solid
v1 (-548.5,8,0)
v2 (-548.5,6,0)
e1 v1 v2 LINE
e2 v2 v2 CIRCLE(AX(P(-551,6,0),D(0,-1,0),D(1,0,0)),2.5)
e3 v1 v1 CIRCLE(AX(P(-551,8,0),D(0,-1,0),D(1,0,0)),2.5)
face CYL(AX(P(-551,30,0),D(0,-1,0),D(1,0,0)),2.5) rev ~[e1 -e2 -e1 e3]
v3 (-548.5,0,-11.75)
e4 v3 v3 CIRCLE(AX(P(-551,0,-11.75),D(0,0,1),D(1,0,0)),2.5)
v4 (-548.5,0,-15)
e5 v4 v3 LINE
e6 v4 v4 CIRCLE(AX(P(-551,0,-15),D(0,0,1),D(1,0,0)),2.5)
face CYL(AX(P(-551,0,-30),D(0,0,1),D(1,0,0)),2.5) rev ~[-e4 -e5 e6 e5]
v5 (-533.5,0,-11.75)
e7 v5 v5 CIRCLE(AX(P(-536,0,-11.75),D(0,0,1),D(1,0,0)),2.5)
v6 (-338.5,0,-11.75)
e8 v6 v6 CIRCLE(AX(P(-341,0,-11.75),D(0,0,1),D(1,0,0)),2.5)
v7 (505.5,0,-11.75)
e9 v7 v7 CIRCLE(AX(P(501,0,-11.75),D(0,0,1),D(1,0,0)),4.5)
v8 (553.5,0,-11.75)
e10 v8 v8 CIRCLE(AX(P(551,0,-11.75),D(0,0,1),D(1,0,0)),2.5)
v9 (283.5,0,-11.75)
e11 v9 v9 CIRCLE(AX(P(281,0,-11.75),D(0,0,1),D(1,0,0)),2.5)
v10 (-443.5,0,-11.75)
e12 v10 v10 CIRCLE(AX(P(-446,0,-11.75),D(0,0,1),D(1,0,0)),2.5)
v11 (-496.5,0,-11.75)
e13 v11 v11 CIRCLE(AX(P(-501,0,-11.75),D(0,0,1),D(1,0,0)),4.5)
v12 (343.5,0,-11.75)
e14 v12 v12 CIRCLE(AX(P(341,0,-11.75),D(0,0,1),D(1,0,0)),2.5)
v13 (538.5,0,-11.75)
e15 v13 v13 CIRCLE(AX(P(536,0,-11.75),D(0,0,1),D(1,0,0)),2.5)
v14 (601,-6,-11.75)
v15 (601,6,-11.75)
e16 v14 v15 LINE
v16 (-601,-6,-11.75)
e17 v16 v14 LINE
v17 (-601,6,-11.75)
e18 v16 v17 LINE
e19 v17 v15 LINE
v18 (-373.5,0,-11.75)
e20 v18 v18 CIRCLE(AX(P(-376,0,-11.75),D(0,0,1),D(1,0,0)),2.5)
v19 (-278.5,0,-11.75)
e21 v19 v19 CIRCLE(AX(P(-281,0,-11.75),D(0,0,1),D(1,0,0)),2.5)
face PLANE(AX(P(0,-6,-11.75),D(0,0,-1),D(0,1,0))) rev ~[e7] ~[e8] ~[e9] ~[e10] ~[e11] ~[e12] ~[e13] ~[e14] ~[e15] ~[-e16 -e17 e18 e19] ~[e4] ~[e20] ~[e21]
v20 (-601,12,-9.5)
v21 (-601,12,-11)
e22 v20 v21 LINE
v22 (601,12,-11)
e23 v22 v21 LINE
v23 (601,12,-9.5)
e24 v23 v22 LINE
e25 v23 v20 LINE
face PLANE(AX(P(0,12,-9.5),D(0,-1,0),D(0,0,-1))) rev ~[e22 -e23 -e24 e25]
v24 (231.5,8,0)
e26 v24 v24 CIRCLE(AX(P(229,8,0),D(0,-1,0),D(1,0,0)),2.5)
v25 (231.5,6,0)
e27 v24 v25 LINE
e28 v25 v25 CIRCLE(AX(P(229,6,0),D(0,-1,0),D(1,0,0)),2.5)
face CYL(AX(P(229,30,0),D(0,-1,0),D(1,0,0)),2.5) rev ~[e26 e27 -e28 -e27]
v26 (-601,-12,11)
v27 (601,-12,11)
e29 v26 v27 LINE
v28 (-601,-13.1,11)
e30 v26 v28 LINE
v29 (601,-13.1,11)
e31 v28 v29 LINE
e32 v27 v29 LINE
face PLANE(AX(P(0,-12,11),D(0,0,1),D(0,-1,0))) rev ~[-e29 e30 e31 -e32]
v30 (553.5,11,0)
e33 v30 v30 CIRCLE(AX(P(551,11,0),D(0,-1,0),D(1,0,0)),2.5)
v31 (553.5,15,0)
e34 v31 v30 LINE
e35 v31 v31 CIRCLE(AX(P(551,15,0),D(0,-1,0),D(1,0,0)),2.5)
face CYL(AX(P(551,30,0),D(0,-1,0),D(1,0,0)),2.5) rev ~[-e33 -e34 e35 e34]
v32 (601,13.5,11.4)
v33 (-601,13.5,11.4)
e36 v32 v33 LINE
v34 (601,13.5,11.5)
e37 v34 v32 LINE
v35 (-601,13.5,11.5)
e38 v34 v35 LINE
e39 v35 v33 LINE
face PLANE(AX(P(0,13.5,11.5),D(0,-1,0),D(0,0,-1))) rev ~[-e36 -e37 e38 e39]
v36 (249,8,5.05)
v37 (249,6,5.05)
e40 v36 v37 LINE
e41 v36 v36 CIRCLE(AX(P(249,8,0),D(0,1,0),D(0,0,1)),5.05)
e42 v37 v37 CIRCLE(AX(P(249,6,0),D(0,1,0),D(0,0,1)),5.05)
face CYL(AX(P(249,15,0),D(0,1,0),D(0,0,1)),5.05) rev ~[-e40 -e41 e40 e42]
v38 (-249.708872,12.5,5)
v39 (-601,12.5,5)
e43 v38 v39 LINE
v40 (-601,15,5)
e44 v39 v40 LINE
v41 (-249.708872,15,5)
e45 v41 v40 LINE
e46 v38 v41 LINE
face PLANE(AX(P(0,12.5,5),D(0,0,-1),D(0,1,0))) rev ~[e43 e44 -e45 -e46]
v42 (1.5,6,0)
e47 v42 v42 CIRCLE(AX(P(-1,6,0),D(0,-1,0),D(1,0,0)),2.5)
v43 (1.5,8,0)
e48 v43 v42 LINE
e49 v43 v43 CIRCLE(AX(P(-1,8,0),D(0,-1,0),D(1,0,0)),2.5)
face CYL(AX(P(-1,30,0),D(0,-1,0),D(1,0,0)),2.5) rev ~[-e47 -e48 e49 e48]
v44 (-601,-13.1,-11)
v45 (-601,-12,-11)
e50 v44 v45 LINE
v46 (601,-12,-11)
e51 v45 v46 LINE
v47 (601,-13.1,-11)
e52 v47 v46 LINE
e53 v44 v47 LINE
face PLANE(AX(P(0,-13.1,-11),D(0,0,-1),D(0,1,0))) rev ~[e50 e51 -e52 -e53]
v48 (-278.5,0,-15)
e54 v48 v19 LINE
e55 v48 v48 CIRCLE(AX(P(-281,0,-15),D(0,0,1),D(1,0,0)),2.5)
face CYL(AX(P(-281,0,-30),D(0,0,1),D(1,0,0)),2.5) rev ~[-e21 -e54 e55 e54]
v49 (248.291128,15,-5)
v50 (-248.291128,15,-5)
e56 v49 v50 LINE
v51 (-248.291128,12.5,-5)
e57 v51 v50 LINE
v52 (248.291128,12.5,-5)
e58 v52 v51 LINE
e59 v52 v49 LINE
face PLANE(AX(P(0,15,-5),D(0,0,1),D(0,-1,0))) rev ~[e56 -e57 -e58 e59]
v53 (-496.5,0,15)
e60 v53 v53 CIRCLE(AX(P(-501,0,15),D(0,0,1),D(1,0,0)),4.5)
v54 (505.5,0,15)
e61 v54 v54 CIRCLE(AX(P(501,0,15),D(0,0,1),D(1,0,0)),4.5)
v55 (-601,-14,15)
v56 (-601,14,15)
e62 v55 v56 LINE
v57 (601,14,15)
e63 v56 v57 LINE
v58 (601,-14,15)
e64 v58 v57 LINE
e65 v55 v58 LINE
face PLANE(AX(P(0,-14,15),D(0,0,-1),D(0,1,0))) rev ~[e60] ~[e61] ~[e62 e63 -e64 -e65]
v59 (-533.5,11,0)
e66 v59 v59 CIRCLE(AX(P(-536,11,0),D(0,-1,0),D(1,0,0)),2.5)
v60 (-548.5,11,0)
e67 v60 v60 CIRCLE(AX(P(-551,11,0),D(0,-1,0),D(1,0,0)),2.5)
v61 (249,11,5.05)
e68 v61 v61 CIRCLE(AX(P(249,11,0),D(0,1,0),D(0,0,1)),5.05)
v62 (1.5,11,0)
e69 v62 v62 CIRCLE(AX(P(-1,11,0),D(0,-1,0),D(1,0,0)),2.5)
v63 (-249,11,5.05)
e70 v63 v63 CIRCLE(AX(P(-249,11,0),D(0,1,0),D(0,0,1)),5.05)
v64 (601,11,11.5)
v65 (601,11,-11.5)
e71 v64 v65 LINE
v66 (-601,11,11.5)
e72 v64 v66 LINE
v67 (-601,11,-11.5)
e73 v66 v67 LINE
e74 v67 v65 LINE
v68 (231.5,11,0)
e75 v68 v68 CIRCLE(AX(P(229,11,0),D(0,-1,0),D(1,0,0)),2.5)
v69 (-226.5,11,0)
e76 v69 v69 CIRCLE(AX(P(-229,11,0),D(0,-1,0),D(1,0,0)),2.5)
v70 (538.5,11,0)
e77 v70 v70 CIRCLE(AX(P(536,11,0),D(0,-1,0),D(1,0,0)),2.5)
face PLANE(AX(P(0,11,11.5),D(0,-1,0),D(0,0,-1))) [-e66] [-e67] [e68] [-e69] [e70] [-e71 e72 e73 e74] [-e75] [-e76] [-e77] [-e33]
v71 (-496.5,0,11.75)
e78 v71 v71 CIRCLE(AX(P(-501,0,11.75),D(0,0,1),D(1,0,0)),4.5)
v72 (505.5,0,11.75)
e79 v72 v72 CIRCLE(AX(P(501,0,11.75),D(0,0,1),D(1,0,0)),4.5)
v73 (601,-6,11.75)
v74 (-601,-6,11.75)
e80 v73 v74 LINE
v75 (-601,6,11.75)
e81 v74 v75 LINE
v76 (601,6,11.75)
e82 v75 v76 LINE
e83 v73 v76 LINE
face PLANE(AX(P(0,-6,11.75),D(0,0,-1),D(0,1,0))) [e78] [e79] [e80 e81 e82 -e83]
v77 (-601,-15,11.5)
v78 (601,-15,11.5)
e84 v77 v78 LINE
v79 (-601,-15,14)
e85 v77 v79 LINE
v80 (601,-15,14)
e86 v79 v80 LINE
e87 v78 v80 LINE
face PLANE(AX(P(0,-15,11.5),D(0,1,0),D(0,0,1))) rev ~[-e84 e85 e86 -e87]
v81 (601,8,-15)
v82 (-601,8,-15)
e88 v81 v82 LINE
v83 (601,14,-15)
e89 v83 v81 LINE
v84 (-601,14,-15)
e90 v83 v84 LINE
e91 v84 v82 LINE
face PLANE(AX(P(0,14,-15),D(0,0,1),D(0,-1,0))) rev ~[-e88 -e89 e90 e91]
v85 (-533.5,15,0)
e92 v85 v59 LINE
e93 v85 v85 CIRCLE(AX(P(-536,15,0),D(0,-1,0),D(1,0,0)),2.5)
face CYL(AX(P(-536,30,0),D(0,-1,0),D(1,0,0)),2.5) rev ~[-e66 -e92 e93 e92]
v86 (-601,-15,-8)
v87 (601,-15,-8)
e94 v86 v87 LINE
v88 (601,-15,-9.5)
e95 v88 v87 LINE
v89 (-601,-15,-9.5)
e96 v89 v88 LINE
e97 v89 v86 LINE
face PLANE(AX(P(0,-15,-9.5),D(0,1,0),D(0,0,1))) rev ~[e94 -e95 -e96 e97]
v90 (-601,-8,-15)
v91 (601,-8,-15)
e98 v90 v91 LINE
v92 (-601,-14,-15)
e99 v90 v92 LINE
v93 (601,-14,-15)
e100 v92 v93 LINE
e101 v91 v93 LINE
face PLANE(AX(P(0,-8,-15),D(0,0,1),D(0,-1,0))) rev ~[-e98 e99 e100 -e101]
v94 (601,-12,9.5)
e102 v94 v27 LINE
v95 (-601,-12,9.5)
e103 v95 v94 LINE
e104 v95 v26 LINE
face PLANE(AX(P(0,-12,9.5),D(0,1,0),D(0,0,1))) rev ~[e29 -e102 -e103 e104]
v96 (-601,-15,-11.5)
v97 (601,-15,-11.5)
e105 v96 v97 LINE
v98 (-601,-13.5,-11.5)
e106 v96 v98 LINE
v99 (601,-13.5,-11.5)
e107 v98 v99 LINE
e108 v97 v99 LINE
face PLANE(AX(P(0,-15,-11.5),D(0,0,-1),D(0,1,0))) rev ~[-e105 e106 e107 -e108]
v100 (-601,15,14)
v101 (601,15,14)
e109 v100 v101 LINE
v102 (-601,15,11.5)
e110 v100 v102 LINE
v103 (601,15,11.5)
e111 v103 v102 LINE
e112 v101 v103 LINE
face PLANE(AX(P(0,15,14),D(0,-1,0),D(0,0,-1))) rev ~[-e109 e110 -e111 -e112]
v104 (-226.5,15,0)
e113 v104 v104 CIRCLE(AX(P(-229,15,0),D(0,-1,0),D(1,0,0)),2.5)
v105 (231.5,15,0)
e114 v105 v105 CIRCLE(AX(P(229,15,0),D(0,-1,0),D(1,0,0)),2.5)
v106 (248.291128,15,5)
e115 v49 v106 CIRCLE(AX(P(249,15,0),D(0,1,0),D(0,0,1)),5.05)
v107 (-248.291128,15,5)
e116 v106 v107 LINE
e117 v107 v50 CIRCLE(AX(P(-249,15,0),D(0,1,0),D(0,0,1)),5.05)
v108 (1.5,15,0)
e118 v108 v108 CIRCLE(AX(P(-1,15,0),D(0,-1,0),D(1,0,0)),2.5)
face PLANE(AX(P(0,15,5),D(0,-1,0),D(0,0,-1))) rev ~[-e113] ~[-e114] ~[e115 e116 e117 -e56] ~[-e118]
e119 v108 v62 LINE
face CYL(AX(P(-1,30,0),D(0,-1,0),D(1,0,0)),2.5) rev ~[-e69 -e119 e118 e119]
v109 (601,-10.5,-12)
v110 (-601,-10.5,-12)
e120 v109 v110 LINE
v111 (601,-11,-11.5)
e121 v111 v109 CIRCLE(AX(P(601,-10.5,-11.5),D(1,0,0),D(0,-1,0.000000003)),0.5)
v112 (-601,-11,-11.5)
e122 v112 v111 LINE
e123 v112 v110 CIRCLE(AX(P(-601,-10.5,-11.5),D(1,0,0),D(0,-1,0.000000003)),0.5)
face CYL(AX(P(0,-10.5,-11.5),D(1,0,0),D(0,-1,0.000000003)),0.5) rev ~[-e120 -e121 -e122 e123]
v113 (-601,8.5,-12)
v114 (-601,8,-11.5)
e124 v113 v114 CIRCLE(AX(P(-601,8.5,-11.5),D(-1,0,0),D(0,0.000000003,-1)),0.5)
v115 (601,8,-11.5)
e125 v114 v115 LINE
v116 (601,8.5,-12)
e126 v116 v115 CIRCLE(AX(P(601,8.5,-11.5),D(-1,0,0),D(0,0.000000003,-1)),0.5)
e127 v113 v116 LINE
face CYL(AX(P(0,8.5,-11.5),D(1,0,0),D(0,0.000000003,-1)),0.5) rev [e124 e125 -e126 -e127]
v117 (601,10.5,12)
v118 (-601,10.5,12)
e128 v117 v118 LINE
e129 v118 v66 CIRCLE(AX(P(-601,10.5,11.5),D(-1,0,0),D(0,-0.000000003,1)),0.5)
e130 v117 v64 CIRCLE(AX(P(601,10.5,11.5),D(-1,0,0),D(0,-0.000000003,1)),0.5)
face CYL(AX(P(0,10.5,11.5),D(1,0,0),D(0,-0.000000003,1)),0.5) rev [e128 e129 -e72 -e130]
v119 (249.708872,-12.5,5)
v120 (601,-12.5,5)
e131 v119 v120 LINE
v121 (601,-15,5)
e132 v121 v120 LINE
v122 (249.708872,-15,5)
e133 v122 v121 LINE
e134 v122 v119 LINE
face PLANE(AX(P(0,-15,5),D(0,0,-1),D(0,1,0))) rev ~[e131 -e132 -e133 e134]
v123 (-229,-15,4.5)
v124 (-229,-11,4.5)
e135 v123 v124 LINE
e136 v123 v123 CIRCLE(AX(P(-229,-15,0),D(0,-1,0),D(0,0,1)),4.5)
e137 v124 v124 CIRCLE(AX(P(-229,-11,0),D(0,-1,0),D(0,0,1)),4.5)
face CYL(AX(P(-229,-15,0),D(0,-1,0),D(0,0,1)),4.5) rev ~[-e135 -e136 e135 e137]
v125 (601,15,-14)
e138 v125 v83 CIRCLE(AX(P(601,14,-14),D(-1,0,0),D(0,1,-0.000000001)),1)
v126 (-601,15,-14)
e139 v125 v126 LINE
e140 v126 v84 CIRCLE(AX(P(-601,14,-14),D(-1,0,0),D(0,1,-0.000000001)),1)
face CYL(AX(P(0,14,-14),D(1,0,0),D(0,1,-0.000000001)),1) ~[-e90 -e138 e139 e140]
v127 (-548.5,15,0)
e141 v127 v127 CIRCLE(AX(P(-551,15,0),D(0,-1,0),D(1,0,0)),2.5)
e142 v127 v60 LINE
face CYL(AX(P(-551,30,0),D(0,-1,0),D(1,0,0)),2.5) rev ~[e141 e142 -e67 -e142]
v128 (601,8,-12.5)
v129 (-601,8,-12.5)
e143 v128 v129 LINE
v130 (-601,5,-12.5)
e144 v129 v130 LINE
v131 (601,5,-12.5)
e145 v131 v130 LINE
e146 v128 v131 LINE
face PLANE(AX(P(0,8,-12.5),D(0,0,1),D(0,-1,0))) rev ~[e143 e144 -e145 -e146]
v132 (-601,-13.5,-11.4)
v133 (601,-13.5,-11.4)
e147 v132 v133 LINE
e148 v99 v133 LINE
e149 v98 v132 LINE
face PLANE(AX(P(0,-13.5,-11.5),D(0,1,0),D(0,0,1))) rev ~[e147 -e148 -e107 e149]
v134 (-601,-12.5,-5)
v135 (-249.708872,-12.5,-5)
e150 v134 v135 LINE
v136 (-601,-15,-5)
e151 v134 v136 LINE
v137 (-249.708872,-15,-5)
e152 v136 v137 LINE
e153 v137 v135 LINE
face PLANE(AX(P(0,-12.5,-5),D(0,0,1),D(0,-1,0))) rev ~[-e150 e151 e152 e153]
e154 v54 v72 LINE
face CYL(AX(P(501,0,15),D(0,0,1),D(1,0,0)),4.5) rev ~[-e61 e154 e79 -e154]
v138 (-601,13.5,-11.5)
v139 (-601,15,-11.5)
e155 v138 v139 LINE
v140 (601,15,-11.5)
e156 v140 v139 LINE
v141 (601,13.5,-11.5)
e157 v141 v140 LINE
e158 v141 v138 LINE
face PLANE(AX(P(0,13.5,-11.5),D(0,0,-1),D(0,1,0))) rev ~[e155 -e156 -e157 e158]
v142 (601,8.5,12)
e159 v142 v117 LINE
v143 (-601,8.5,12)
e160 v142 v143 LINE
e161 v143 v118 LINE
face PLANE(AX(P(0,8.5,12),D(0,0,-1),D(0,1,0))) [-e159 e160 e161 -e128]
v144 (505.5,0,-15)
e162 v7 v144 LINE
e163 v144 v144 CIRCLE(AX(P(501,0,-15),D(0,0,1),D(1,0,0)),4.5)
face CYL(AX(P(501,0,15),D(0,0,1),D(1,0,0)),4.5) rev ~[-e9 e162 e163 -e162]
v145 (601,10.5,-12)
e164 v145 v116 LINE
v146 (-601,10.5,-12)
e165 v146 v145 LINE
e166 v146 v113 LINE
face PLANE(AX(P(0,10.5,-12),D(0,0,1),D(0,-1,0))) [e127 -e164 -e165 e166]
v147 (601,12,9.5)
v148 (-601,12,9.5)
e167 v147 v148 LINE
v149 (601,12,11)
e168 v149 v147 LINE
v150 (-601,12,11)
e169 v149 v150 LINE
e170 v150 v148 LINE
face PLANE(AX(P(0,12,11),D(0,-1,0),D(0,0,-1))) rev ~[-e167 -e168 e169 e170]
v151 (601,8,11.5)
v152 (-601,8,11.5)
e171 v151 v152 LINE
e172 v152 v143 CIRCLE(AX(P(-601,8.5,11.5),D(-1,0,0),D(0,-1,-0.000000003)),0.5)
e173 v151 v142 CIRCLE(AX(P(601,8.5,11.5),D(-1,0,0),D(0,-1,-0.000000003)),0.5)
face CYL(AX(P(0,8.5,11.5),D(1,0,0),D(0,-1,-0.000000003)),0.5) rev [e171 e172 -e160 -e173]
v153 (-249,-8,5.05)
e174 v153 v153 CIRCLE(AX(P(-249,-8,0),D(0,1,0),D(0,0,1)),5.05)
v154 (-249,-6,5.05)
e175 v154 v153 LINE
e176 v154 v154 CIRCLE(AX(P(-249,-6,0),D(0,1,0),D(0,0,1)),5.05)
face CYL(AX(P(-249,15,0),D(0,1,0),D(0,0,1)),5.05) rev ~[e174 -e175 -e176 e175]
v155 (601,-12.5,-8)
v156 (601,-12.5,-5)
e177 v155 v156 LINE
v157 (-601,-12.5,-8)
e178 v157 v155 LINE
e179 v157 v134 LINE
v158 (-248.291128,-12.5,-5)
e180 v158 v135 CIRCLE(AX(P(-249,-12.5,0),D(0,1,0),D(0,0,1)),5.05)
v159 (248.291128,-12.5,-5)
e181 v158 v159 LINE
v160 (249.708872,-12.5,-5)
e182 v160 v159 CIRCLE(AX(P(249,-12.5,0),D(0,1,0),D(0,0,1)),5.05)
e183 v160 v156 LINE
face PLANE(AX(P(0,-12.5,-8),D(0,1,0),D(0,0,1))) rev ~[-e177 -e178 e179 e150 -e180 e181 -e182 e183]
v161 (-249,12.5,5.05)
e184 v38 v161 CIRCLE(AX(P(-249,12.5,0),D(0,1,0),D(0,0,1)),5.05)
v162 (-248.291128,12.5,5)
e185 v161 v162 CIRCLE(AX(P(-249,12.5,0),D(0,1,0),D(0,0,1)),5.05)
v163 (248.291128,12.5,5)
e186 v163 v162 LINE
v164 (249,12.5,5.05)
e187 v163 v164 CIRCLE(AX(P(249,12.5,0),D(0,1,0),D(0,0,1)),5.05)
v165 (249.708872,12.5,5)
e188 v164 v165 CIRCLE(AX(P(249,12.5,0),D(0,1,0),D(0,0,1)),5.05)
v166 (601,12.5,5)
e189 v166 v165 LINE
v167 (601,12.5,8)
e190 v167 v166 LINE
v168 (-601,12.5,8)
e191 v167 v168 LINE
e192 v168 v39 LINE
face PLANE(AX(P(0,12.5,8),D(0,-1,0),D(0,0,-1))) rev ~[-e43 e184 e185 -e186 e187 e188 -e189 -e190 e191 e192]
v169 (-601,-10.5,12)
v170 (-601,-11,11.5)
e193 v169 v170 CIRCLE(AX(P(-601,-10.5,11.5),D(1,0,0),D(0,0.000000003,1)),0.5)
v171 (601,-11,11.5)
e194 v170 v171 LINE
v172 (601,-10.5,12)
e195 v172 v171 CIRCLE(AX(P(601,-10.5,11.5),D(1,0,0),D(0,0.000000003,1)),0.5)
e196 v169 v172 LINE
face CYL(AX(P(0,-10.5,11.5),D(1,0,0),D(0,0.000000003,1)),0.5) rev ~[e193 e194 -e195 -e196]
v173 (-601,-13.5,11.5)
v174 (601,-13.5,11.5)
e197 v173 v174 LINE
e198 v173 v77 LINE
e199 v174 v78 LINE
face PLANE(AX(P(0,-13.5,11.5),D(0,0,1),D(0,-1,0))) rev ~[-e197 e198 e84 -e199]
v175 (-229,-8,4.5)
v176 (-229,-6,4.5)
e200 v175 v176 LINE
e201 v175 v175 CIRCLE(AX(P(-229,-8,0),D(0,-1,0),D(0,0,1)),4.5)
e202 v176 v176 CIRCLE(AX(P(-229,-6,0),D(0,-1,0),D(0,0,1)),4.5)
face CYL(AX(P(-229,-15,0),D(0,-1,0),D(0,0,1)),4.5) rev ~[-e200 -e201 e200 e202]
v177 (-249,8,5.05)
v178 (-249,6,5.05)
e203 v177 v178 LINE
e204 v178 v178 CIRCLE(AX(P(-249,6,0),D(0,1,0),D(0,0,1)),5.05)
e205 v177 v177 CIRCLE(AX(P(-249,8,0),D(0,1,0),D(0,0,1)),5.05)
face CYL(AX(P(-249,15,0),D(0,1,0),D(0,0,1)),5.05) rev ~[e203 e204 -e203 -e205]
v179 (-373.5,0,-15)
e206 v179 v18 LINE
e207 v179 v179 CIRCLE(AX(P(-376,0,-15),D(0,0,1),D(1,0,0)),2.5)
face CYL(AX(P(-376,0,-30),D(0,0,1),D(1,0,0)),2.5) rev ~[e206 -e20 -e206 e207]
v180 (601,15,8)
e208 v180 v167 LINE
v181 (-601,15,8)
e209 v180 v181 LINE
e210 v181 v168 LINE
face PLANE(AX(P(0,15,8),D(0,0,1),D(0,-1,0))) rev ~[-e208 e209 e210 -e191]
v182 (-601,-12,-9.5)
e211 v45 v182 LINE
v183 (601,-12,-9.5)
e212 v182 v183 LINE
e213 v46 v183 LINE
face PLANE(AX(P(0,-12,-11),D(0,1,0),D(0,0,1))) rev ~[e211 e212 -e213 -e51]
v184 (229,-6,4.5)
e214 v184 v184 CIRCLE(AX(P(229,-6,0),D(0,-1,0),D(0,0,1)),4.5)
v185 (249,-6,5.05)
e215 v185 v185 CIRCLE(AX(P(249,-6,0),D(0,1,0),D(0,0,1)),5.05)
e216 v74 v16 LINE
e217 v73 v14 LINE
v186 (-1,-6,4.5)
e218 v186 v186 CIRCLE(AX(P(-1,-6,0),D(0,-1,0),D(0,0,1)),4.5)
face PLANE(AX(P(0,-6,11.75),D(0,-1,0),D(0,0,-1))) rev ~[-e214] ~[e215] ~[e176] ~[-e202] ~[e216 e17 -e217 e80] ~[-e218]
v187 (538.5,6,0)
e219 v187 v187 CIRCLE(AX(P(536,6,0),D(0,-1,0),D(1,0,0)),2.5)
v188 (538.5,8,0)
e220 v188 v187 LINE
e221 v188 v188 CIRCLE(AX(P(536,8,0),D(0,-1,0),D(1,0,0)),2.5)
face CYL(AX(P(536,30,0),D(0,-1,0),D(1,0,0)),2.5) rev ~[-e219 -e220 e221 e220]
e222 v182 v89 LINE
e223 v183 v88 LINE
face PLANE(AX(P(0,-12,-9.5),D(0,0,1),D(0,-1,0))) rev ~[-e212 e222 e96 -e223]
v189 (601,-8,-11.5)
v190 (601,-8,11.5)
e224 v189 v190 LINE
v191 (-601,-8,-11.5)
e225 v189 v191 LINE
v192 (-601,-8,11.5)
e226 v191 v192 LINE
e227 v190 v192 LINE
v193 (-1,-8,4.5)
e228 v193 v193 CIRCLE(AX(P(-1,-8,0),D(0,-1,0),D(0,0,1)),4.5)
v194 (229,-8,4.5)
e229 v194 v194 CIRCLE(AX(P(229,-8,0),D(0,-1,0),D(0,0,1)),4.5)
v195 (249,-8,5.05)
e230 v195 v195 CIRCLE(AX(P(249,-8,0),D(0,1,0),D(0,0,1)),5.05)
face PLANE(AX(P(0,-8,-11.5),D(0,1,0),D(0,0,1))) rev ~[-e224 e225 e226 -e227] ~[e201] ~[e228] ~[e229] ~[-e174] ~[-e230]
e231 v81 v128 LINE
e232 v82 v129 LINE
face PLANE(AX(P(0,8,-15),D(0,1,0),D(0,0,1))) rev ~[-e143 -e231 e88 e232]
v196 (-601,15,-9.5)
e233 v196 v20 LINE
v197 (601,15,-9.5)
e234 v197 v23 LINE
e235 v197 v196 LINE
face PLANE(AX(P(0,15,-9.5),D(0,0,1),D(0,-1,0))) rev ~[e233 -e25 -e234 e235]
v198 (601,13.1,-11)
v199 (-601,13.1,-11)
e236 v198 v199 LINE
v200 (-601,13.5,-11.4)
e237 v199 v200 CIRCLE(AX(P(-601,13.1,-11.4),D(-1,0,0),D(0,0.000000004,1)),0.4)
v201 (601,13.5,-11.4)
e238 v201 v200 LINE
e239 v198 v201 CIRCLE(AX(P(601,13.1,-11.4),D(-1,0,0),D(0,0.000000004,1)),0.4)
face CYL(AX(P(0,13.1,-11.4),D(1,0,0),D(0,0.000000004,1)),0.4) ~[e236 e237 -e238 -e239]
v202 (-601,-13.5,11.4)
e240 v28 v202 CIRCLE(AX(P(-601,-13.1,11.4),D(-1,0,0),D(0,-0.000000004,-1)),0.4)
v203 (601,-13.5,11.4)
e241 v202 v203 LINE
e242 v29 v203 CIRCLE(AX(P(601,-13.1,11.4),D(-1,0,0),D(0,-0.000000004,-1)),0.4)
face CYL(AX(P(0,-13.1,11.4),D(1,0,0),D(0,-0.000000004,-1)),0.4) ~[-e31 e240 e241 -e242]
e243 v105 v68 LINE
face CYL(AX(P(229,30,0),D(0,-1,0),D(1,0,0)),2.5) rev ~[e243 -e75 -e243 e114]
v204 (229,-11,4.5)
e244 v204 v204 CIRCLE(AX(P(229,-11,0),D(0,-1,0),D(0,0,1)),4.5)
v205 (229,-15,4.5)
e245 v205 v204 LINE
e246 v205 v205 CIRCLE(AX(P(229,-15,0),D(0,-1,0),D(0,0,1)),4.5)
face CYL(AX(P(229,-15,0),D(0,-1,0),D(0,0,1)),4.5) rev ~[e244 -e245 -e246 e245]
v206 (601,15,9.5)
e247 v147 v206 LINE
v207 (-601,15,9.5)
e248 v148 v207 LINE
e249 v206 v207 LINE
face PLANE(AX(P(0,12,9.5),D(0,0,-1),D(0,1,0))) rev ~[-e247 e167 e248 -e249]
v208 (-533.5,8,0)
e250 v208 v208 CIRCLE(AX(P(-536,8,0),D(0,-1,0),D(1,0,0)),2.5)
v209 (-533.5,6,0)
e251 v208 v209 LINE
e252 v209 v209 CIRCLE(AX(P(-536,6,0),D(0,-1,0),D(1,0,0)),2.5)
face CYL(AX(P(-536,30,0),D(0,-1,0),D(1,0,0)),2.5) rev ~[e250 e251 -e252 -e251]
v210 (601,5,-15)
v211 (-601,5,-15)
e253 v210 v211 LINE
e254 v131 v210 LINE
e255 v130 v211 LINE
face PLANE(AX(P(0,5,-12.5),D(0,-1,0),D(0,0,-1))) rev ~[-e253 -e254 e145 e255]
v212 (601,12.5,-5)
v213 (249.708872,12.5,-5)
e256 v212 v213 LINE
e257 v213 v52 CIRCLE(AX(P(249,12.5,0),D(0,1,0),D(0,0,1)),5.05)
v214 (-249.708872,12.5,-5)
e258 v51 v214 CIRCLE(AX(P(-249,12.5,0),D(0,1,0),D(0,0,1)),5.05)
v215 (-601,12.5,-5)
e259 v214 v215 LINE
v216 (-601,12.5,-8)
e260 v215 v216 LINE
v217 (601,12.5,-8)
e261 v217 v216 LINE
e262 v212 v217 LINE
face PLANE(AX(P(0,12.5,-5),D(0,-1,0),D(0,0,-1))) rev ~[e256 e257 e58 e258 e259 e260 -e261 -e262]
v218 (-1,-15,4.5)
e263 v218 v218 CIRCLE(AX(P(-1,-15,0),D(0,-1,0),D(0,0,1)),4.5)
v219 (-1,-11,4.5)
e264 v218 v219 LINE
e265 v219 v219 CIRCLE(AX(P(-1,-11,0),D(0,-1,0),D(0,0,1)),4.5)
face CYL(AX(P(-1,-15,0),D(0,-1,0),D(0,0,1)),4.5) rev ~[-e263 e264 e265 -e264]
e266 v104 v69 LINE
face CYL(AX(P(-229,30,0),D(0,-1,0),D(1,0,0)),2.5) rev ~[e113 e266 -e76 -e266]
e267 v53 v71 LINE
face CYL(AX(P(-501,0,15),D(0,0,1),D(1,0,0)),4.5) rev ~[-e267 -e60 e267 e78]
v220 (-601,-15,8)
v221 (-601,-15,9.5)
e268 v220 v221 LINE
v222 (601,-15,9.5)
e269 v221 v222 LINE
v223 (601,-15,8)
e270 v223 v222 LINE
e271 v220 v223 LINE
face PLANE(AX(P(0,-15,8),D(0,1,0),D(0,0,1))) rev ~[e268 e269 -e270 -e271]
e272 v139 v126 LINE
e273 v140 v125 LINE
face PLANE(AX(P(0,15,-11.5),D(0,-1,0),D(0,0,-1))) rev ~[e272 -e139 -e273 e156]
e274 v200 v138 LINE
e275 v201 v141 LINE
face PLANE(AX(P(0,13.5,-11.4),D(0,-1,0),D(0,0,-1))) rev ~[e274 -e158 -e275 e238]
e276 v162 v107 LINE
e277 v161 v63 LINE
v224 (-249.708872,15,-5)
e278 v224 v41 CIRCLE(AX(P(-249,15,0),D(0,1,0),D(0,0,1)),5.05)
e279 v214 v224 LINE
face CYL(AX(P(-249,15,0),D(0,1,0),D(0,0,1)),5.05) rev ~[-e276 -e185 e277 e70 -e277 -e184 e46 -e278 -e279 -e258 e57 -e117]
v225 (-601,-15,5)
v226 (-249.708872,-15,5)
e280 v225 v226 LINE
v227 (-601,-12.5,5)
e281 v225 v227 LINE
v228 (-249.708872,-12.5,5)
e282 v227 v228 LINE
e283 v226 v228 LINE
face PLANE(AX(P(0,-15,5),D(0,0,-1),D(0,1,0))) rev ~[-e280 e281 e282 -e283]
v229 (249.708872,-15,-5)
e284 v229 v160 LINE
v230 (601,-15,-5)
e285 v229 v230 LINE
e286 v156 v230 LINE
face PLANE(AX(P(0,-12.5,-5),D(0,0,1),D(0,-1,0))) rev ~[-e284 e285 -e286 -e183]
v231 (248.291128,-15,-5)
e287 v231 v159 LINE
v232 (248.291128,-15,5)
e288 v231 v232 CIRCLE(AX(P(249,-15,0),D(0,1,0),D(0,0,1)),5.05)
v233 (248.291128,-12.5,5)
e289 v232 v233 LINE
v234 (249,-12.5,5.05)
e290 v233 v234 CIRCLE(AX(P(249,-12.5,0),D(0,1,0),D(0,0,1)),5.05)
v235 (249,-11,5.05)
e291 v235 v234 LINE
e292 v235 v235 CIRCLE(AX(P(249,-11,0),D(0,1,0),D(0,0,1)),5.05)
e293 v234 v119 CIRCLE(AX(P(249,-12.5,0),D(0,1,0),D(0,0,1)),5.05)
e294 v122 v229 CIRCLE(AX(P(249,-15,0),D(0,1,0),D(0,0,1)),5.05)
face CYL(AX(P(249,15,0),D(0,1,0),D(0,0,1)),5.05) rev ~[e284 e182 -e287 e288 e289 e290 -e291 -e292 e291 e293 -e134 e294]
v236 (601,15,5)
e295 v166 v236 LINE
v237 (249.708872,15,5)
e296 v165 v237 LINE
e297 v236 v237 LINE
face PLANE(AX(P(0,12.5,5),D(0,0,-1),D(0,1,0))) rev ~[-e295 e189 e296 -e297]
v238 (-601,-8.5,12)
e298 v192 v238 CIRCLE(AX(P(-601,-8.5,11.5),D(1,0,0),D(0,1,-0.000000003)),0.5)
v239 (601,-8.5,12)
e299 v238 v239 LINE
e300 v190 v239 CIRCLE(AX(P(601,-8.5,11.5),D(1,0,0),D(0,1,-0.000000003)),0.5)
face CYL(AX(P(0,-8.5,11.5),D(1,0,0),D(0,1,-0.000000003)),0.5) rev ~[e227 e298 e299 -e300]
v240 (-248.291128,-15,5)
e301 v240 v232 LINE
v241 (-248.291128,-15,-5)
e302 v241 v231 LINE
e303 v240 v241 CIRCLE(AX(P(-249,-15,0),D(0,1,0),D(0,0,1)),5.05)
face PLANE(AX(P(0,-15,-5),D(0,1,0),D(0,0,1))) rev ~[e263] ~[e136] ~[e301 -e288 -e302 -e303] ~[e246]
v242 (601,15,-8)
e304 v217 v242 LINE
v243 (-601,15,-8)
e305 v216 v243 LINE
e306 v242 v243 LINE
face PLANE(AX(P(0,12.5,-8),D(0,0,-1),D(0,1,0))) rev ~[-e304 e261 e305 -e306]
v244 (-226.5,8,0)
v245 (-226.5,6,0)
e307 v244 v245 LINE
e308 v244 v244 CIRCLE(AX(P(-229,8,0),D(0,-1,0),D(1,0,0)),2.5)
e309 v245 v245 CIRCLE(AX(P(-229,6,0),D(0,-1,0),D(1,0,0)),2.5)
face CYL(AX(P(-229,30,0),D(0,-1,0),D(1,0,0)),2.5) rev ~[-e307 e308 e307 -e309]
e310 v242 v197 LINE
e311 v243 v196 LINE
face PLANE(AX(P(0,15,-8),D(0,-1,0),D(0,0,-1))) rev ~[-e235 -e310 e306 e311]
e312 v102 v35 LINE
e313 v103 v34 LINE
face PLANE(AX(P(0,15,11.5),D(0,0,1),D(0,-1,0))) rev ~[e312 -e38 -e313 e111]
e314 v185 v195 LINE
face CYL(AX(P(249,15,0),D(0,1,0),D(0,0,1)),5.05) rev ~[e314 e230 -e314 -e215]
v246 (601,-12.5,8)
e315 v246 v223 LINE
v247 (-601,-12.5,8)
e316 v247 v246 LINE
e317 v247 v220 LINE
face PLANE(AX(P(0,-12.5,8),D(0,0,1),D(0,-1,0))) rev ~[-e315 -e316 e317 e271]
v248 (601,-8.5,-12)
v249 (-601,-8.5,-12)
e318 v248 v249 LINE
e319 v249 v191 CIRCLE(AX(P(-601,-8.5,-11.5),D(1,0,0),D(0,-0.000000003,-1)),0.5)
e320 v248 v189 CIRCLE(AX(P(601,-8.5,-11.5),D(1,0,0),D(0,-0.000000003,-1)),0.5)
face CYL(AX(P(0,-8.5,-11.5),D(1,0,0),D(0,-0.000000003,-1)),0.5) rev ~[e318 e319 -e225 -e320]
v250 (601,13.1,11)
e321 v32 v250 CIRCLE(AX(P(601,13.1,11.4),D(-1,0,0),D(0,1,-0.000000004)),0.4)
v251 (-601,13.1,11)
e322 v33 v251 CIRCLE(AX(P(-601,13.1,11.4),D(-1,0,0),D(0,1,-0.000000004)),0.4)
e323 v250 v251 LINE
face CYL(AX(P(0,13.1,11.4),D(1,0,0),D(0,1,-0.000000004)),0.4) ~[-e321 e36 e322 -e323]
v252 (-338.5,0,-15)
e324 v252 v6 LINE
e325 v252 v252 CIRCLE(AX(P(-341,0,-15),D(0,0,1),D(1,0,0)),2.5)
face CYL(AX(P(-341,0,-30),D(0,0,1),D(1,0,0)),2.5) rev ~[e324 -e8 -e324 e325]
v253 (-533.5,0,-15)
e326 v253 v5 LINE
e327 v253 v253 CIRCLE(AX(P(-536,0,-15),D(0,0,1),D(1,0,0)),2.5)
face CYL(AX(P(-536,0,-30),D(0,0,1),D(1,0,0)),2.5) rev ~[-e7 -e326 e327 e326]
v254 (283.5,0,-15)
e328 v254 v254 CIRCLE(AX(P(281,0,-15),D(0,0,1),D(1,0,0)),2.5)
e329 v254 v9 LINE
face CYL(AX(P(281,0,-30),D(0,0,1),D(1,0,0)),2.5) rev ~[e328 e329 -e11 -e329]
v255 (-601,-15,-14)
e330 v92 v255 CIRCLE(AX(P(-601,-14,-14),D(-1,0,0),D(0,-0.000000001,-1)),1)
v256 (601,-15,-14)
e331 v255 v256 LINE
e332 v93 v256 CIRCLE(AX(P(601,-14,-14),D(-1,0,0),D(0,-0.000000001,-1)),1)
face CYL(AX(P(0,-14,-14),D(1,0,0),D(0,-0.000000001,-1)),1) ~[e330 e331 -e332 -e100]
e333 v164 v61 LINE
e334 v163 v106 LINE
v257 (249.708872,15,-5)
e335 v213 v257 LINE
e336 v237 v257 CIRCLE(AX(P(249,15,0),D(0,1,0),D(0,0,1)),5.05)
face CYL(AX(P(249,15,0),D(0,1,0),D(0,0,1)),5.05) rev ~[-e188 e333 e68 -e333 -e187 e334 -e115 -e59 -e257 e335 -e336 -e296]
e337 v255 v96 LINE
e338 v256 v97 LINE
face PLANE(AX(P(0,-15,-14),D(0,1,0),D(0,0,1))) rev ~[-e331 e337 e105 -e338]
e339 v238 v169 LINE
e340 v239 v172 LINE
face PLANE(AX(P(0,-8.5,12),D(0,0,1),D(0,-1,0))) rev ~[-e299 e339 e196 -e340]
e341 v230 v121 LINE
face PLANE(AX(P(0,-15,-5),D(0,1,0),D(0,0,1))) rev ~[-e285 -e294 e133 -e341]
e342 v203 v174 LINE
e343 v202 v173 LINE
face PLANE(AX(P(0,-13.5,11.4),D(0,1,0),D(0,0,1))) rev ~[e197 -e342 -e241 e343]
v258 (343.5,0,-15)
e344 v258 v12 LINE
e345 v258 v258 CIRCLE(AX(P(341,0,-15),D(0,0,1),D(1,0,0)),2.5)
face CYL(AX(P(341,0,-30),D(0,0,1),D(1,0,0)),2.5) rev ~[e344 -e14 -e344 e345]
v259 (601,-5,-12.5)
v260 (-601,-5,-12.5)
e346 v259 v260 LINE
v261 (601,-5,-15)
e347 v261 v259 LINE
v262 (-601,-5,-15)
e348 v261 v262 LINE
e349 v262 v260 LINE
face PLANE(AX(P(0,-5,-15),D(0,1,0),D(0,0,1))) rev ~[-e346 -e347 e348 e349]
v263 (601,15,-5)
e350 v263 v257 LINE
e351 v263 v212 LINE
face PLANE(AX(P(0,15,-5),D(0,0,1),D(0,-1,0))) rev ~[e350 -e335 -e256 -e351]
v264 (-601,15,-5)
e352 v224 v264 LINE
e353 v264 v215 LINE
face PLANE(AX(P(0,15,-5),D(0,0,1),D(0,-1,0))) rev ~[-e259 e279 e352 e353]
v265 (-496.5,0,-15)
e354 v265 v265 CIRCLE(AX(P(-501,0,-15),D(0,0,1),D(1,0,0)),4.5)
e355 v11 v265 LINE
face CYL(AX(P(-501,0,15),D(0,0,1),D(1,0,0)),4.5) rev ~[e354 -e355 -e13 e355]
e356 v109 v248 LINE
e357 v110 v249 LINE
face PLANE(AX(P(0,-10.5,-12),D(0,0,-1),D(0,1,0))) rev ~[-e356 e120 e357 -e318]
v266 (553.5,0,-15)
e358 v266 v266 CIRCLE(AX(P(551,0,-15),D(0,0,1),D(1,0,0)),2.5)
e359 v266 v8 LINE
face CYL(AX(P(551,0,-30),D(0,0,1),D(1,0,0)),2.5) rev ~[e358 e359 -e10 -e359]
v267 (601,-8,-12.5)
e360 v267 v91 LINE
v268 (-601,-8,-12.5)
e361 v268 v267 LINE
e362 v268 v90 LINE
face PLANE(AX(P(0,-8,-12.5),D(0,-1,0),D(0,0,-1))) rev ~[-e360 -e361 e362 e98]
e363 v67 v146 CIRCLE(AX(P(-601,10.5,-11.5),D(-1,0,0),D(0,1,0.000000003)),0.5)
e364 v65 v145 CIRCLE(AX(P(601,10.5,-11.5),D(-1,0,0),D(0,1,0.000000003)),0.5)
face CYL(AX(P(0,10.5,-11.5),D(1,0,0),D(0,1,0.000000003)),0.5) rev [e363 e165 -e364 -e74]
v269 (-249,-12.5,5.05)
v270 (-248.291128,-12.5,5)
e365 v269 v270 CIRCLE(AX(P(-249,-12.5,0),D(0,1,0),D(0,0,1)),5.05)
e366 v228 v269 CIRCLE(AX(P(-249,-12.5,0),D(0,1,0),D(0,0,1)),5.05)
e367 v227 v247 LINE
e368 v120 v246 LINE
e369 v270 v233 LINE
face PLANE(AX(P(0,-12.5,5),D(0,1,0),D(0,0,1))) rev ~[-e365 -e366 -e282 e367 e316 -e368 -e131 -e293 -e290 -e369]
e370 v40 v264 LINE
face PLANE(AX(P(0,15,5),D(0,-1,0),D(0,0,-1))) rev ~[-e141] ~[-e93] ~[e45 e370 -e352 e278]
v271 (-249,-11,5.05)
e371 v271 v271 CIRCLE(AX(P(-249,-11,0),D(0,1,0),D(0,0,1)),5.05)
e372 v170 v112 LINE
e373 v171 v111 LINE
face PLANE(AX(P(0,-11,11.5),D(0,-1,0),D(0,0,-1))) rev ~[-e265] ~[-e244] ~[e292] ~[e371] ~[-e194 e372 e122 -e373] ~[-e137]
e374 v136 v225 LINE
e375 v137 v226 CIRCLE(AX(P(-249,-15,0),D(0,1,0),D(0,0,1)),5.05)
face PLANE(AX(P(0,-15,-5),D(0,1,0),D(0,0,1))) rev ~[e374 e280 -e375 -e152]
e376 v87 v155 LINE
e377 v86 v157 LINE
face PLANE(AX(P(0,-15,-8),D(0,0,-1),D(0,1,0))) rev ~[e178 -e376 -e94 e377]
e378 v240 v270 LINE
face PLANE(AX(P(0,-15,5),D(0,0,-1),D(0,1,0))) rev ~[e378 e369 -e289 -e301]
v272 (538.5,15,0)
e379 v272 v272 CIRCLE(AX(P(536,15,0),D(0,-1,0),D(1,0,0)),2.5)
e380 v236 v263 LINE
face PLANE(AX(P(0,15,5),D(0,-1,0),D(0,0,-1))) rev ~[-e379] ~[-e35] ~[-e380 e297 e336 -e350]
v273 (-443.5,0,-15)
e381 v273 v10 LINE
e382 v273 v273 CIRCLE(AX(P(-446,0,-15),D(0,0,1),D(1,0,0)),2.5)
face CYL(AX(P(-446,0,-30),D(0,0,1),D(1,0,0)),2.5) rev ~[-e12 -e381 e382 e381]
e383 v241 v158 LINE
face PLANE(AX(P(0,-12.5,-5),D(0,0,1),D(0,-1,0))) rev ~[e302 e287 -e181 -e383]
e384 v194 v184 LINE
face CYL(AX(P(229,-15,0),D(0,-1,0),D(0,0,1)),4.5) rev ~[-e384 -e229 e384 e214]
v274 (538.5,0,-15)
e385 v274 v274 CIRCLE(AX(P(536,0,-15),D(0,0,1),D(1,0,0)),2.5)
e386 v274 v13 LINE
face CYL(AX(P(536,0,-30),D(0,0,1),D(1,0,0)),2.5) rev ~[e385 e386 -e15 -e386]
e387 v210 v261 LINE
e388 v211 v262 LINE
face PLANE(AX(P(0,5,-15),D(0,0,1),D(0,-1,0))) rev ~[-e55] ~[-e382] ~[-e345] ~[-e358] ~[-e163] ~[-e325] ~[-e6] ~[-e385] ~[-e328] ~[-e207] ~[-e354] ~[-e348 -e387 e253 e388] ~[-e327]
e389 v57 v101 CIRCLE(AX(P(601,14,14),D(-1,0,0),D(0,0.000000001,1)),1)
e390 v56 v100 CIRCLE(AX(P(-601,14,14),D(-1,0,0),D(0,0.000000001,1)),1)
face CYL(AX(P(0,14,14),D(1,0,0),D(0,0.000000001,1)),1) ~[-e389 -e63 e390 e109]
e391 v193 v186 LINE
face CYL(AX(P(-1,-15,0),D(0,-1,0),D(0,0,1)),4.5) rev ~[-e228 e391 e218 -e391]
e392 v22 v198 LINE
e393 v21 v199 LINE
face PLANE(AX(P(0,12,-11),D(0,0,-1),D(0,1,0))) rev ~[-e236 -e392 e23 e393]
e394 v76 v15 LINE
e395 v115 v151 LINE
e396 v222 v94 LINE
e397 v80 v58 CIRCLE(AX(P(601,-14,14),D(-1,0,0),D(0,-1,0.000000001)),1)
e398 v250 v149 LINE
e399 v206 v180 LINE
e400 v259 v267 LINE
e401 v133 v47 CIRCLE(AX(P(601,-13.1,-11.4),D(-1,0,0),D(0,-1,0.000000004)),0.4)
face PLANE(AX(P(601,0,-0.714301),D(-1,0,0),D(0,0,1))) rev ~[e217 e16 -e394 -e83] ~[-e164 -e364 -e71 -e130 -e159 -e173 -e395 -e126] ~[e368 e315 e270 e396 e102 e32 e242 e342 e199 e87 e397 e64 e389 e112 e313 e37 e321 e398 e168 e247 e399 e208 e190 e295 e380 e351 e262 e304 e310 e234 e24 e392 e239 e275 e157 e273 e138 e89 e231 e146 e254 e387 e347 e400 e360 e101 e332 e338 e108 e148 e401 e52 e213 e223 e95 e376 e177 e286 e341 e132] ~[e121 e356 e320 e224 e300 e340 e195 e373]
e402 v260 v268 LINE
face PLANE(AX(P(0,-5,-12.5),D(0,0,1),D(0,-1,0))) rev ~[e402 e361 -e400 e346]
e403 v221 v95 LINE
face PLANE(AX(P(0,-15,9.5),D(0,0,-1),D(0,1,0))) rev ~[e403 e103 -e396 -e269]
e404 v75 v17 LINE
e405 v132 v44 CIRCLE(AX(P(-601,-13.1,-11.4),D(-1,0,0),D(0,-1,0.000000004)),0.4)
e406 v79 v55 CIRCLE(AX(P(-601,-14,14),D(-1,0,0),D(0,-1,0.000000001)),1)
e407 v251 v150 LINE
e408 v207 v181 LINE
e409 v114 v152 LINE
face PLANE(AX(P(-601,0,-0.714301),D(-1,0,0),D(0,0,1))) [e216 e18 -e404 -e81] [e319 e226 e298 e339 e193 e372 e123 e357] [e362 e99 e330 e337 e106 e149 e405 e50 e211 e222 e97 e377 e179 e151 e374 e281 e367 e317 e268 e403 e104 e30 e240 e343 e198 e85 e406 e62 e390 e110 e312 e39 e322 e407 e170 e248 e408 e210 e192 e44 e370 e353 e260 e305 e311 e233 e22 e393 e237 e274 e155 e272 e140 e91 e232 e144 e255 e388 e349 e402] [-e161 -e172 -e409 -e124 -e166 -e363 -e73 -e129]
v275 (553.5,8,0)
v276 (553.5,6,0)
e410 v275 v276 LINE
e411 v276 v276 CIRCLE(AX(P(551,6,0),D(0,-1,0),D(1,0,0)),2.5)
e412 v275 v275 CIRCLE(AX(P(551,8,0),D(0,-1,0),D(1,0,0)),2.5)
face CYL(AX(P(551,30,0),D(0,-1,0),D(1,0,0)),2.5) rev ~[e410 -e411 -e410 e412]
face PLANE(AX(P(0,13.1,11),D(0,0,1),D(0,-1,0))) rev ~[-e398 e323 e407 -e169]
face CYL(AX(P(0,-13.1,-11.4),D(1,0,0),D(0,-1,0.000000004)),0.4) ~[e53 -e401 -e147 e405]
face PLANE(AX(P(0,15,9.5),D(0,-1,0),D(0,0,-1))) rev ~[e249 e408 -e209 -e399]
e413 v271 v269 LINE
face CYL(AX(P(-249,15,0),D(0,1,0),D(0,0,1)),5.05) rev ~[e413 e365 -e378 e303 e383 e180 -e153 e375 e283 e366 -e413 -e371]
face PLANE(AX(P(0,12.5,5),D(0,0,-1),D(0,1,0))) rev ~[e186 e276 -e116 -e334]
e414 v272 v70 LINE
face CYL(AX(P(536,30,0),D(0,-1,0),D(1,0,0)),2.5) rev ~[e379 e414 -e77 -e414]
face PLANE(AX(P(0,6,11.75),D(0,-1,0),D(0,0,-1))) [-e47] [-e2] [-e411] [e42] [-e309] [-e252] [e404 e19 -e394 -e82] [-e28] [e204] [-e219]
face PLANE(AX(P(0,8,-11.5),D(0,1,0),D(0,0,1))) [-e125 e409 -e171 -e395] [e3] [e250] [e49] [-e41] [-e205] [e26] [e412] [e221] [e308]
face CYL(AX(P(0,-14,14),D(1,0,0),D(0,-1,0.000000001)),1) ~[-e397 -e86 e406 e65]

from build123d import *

# Parameters (mm, degrees)
SKETCH_1_W             = 23.5
SKETCH_1_H             = 12
EXTRUDE_1_DEPTH        = 601
HOLE_WIZARD_M6_1_D     = 5
HOLE_WIZARD_M6_1_DEPTH = 15
HOLE_WIZARD_M6_1_TIP   = 1.502151548
HOLE_WIZARD_M6_2_D     = 5
HOLE_WIZARD_M6_2_DEPTH = 15
HOLE_WIZARD_M6_2_TIP   = 1.502151548
SKETCH_8_R             = 4.5
CUT_EXTRUDE_1_DEPTH    = 602.935212461
HOLE_WIZARD_M6_3_D     = 5
HOLE_WIZARD_M6_3_DEPTH = 15
HOLE_WIZARD_M6_3_TIP   = 1.502151548
SKETCH_10_R            = 5.05
CUT_EXTRUDE_15_DEPTH   = 602.935212461
SKETCH_13_R            = 4.5
CUT_EXTRUDE_16_DEPTH   = 15
HOLE_WIZARD_M6_4_D     = 5
HOLE_WIZARD_M6_4_DEPTH = 15
HOLE_WIZARD_M6_4_TIP   = 1.502151548
HOLE_WIZARD_M6_5_D     = 5
HOLE_WIZARD_M6_5_DEPTH = 15
HOLE_WIZARD_M6_5_TIP   = 1.502151548


with BuildPart() as part:
    # 草图1 → 凸台-拉伸1 (new, symmetric)
    with BuildSketch(Plane(origin=(0, 0, 0), x_dir=(0, 0, -1), z_dir=(1, 0, 0))):
        with BuildLine():
            Line((-14, 15), (-11.5, 15))
            Line((-11.5, 15), (-11.5, 13.5))
            Line((-11.5, 13.5), (-11.4, 13.5))
            ThreePointArc((-11.4, 13.5), (-11.117157288, 13.382842712), (-11, 13.1))
            Line((-11, 13.1), (-11, 12))
            Line((-11, 12), (-9.5, 12))
            Line((-9.5, 12), (-9.5, 15))
            Line((-9.5, 15), (-8, 15))
            Line((-8, 15), (-8, 12.5))
            Line((-8, 12.5), (-5, 12.5))
            Line((-5, 12.5), (-5, 15))
            Line((-5, 15), (5, 15))
            Line((5, 15), (5, 12.5))
            Line((5, 12.5), (8, 12.5))
            Line((8, 12.5), (8, 15))
            Line((8, 15), (9.5, 15))
            Line((9.5, 15), (9.5, 12))
            Line((9.5, 12), (11, 12))
            Line((11, 12), (11, 13.1))
            ThreePointArc((11, 13.1), (11.117157288, 13.382842712), (11.4, 13.5))
            Line((11.4, 13.5), (11.5, 13.5))
            Line((11.5, 13.5), (11.5, 15))
            Line((11.5, 15), (14, 15))
            ThreePointArc((14, 15), (14.707106781, 14.707106781), (15, 14))
            Line((15, 14), (15, 8))
            Line((15, 8), (12.5, 8))
            Line((12.5, 8), (12.5, 5))
            Line((12.5, 5), (15, 5))
            Line((15, 5), (15, -5))
            Line((15, -5), (12.5, -5))
            Line((12.5, -5), (12.5, -8))
            Line((12.5, -8), (15, -8))
            Line((15, -8), (15, -14))
            ThreePointArc((15, -14), (14.707106781, -14.707106781), (14, -15))
            Line((14, -15), (11.5, -15))
            Line((11.5, -15), (11.5, -13.5))
            Line((11.5, -13.5), (11.4, -13.5))
            ThreePointArc((11.4, -13.5), (11.117157288, -13.382842712), (11, -13.1))
            Line((11, -13.1), (11, -12))
            Line((11, -12), (9.5, -12))
            Line((9.5, -12), (9.5, -15))
            Line((9.5, -15), (8, -15))
            Line((8, -15), (8, -12.5))
            Line((8, -12.5), (5, -12.5))
            Line((5, -12.5), (5, -15))
            Line((5, -15), (-5, -15))
            Line((-5, -15), (-5, -12.5))
            Line((-5, -12.5), (-8, -12.5))
            Line((-8, -12.5), (-8, -15))
            Line((-8, -15), (-9.5, -15))
            Line((-9.5, -15), (-9.5, -12))
            Line((-9.5, -12), (-11, -12))
            Line((-11, -12), (-11, -13.1))
            ThreePointArc((-11, -13.1), (-11.117157288, -13.382842712), (-11.4, -13.5))
            Line((-11.4, -13.5), (-11.5, -13.5))
            Line((-11.5, -13.5), (-11.5, -15))
            Line((-11.5, -15), (-14, -15))
            ThreePointArc((-14, -15), (-14.707106781, -14.707106781), (-15, -14))
            Line((-15, -14), (-15, 14))
            ThreePointArc((-15, 14), (-14.707106781, 14.707106781), (-14, 15))
        make_face()
        with BuildLine():
            Line((12, -10.5), (12, -8.5))
            ThreePointArc((12, -8.5), (11.853553391, -8.146446609), (11.5, -8))
            Line((11.5, -8), (-11.5, -8))
            ThreePointArc((-11.5, -8), (-11.853553391, -8.146446609), (-12, -8.5))
            Line((-12, -8.5), (-12, -10.5))
            ThreePointArc((-12, -10.5), (-11.853553391, -10.853553391), (-11.5, -11))
            Line((-11.5, -11), (11.5, -11))
            ThreePointArc((11.5, -11), (11.853553391, -10.853553391), (12, -10.5))
        make_face(mode=Mode.SUBTRACT)
        with BuildLine():
            Line((-11.5, 11), (11.5, 11))
            ThreePointArc((11.5, 11), (11.853553391, 10.853553391), (12, 10.5))
            Line((12, 10.5), (12, 8.5))
            ThreePointArc((12, 8.5), (11.853553391, 8.146446609), (11.5, 8))
            Line((11.5, 8), (-11.5, 8))
            ThreePointArc((-11.5, 8), (-11.853553391, 8.146446609), (-12, 8.5))
            Line((-12, 8.5), (-12, 10.5))
            ThreePointArc((-12, 10.5), (-11.853553391, 10.853553391), (-11.5, 11))
        make_face(mode=Mode.SUBTRACT)
        Rectangle(SKETCH_1_W, SKETCH_1_H, mode=Mode.SUBTRACT)
    extrude(amount=EXTRUDE_1_DEPTH, both=True)

    # M6 螺纹孔1
    with Locations(Plane(origin=(0, 0, -15), x_dir=(-1, 0, 0), z_dir=(0, 0, -1))):
        with Locations((-551, 0), (-536, 0), (536, 0), (551, 0)):
            Hole(HOLE_WIZARD_M6_1_D / 2, depth=HOLE_WIZARD_M6_1_DEPTH)
            with Locations((0, 0, -(HOLE_WIZARD_M6_1_DEPTH + HOLE_WIZARD_M6_1_TIP / 2))):  # 118° drill point
                Cone(0, HOLE_WIZARD_M6_1_D / 2, HOLE_WIZARD_M6_1_TIP, mode=Mode.SUBTRACT)

    # M6 螺纹孔2
    with Locations(Plane(origin=(0, 15, 0), x_dir=(-1, 0, 0), z_dir=(0, 1, 0))):
        with Locations((551, 0), (536, 0), (-536, 0), (-551, 0)):
            Hole(HOLE_WIZARD_M6_2_D / 2, depth=HOLE_WIZARD_M6_2_DEPTH)
            with Locations((0, 0, -(HOLE_WIZARD_M6_2_DEPTH + HOLE_WIZARD_M6_2_TIP / 2))):  # 118° drill point
                Cone(0, HOLE_WIZARD_M6_2_D / 2, HOLE_WIZARD_M6_2_TIP, mode=Mode.SUBTRACT)

    # 草图8 → 切除-拉伸1 (cut, through all)
    with BuildSketch(Plane.XY.offset(15)):
        with Locations((-501, 0)):
            Circle(SKETCH_8_R)
        with Locations((501, 0)):
            Circle(SKETCH_8_R)
    extrude(amount=-CUT_EXTRUDE_1_DEPTH, mode=Mode.SUBTRACT)

    # M6 螺纹孔3
    with Locations(Plane(origin=(0, 15, 0), x_dir=(-1, 0, 0), z_dir=(0, 1, 0))):
        with Locations((229, 0), (1, 0), (-229, 0)):
            Hole(HOLE_WIZARD_M6_3_D / 2, depth=HOLE_WIZARD_M6_3_DEPTH)
            with Locations((0, 0, -(HOLE_WIZARD_M6_3_DEPTH + HOLE_WIZARD_M6_3_TIP / 2))):  # 118° drill point
                Cone(0, HOLE_WIZARD_M6_3_D / 2, HOLE_WIZARD_M6_3_TIP, mode=Mode.SUBTRACT)

    # 草图10 → 切除-拉伸15 (cut, through all)
    with BuildSketch(Plane(origin=(0, 15, 0), x_dir=(-1, 0, 0), z_dir=(0, 1, 0))):
        with Locations(Location((249, 0, 0), (0, 0, 90))):
            Circle(SKETCH_10_R)
        with Locations(Location((-249, 0, 0), (0, 0, 90))):
            Circle(SKETCH_10_R)
    extrude(amount=-CUT_EXTRUDE_15_DEPTH, mode=Mode.SUBTRACT)

    # 草图13 → 切除-拉伸16 (cut)
    with BuildSketch(Plane.XZ.offset(15)):
        with Locations(Location((229, 0, 0), (0, 0, 90))):
            Circle(SKETCH_13_R)
        with Locations(Location((-1, 0, 0), (0, 0, 90))):
            Circle(SKETCH_13_R)
        with Locations(Location((-229, 0, 0), (0, 0, 90))):
            Circle(SKETCH_13_R)
    extrude(amount=-CUT_EXTRUDE_16_DEPTH, mode=Mode.SUBTRACT)

    # M6 螺纹孔4
    with Locations(Plane(origin=(0, 0, -15), x_dir=(-1, 0, 0), z_dir=(0, 0, -1))):
        with Locations((341, 0), (281, 0), (-281, 0), (-341, 0)):
            Hole(HOLE_WIZARD_M6_4_D / 2, depth=HOLE_WIZARD_M6_4_DEPTH)
            with Locations((0, 0, -(HOLE_WIZARD_M6_4_DEPTH + HOLE_WIZARD_M6_4_TIP / 2))):  # 118° drill point
                Cone(0, HOLE_WIZARD_M6_4_D / 2, HOLE_WIZARD_M6_4_TIP, mode=Mode.SUBTRACT)

    # M6 螺纹孔5
    with Locations(Plane(origin=(0, 0, -15), x_dir=(-1, 0, 0), z_dir=(0, 0, -1))):
        with Locations((446, 0), (376, 0)):
            Hole(HOLE_WIZARD_M6_5_D / 2, depth=HOLE_WIZARD_M6_5_DEPTH)
            with Locations((0, 0, -(HOLE_WIZARD_M6_5_DEPTH + HOLE_WIZARD_M6_5_TIP / 2))):  # 118° drill point
                Cone(0, HOLE_WIZARD_M6_5_D / 2, HOLE_WIZARD_M6_5_TIP, mode=Mode.SUBTRACT)


solid = part.part
